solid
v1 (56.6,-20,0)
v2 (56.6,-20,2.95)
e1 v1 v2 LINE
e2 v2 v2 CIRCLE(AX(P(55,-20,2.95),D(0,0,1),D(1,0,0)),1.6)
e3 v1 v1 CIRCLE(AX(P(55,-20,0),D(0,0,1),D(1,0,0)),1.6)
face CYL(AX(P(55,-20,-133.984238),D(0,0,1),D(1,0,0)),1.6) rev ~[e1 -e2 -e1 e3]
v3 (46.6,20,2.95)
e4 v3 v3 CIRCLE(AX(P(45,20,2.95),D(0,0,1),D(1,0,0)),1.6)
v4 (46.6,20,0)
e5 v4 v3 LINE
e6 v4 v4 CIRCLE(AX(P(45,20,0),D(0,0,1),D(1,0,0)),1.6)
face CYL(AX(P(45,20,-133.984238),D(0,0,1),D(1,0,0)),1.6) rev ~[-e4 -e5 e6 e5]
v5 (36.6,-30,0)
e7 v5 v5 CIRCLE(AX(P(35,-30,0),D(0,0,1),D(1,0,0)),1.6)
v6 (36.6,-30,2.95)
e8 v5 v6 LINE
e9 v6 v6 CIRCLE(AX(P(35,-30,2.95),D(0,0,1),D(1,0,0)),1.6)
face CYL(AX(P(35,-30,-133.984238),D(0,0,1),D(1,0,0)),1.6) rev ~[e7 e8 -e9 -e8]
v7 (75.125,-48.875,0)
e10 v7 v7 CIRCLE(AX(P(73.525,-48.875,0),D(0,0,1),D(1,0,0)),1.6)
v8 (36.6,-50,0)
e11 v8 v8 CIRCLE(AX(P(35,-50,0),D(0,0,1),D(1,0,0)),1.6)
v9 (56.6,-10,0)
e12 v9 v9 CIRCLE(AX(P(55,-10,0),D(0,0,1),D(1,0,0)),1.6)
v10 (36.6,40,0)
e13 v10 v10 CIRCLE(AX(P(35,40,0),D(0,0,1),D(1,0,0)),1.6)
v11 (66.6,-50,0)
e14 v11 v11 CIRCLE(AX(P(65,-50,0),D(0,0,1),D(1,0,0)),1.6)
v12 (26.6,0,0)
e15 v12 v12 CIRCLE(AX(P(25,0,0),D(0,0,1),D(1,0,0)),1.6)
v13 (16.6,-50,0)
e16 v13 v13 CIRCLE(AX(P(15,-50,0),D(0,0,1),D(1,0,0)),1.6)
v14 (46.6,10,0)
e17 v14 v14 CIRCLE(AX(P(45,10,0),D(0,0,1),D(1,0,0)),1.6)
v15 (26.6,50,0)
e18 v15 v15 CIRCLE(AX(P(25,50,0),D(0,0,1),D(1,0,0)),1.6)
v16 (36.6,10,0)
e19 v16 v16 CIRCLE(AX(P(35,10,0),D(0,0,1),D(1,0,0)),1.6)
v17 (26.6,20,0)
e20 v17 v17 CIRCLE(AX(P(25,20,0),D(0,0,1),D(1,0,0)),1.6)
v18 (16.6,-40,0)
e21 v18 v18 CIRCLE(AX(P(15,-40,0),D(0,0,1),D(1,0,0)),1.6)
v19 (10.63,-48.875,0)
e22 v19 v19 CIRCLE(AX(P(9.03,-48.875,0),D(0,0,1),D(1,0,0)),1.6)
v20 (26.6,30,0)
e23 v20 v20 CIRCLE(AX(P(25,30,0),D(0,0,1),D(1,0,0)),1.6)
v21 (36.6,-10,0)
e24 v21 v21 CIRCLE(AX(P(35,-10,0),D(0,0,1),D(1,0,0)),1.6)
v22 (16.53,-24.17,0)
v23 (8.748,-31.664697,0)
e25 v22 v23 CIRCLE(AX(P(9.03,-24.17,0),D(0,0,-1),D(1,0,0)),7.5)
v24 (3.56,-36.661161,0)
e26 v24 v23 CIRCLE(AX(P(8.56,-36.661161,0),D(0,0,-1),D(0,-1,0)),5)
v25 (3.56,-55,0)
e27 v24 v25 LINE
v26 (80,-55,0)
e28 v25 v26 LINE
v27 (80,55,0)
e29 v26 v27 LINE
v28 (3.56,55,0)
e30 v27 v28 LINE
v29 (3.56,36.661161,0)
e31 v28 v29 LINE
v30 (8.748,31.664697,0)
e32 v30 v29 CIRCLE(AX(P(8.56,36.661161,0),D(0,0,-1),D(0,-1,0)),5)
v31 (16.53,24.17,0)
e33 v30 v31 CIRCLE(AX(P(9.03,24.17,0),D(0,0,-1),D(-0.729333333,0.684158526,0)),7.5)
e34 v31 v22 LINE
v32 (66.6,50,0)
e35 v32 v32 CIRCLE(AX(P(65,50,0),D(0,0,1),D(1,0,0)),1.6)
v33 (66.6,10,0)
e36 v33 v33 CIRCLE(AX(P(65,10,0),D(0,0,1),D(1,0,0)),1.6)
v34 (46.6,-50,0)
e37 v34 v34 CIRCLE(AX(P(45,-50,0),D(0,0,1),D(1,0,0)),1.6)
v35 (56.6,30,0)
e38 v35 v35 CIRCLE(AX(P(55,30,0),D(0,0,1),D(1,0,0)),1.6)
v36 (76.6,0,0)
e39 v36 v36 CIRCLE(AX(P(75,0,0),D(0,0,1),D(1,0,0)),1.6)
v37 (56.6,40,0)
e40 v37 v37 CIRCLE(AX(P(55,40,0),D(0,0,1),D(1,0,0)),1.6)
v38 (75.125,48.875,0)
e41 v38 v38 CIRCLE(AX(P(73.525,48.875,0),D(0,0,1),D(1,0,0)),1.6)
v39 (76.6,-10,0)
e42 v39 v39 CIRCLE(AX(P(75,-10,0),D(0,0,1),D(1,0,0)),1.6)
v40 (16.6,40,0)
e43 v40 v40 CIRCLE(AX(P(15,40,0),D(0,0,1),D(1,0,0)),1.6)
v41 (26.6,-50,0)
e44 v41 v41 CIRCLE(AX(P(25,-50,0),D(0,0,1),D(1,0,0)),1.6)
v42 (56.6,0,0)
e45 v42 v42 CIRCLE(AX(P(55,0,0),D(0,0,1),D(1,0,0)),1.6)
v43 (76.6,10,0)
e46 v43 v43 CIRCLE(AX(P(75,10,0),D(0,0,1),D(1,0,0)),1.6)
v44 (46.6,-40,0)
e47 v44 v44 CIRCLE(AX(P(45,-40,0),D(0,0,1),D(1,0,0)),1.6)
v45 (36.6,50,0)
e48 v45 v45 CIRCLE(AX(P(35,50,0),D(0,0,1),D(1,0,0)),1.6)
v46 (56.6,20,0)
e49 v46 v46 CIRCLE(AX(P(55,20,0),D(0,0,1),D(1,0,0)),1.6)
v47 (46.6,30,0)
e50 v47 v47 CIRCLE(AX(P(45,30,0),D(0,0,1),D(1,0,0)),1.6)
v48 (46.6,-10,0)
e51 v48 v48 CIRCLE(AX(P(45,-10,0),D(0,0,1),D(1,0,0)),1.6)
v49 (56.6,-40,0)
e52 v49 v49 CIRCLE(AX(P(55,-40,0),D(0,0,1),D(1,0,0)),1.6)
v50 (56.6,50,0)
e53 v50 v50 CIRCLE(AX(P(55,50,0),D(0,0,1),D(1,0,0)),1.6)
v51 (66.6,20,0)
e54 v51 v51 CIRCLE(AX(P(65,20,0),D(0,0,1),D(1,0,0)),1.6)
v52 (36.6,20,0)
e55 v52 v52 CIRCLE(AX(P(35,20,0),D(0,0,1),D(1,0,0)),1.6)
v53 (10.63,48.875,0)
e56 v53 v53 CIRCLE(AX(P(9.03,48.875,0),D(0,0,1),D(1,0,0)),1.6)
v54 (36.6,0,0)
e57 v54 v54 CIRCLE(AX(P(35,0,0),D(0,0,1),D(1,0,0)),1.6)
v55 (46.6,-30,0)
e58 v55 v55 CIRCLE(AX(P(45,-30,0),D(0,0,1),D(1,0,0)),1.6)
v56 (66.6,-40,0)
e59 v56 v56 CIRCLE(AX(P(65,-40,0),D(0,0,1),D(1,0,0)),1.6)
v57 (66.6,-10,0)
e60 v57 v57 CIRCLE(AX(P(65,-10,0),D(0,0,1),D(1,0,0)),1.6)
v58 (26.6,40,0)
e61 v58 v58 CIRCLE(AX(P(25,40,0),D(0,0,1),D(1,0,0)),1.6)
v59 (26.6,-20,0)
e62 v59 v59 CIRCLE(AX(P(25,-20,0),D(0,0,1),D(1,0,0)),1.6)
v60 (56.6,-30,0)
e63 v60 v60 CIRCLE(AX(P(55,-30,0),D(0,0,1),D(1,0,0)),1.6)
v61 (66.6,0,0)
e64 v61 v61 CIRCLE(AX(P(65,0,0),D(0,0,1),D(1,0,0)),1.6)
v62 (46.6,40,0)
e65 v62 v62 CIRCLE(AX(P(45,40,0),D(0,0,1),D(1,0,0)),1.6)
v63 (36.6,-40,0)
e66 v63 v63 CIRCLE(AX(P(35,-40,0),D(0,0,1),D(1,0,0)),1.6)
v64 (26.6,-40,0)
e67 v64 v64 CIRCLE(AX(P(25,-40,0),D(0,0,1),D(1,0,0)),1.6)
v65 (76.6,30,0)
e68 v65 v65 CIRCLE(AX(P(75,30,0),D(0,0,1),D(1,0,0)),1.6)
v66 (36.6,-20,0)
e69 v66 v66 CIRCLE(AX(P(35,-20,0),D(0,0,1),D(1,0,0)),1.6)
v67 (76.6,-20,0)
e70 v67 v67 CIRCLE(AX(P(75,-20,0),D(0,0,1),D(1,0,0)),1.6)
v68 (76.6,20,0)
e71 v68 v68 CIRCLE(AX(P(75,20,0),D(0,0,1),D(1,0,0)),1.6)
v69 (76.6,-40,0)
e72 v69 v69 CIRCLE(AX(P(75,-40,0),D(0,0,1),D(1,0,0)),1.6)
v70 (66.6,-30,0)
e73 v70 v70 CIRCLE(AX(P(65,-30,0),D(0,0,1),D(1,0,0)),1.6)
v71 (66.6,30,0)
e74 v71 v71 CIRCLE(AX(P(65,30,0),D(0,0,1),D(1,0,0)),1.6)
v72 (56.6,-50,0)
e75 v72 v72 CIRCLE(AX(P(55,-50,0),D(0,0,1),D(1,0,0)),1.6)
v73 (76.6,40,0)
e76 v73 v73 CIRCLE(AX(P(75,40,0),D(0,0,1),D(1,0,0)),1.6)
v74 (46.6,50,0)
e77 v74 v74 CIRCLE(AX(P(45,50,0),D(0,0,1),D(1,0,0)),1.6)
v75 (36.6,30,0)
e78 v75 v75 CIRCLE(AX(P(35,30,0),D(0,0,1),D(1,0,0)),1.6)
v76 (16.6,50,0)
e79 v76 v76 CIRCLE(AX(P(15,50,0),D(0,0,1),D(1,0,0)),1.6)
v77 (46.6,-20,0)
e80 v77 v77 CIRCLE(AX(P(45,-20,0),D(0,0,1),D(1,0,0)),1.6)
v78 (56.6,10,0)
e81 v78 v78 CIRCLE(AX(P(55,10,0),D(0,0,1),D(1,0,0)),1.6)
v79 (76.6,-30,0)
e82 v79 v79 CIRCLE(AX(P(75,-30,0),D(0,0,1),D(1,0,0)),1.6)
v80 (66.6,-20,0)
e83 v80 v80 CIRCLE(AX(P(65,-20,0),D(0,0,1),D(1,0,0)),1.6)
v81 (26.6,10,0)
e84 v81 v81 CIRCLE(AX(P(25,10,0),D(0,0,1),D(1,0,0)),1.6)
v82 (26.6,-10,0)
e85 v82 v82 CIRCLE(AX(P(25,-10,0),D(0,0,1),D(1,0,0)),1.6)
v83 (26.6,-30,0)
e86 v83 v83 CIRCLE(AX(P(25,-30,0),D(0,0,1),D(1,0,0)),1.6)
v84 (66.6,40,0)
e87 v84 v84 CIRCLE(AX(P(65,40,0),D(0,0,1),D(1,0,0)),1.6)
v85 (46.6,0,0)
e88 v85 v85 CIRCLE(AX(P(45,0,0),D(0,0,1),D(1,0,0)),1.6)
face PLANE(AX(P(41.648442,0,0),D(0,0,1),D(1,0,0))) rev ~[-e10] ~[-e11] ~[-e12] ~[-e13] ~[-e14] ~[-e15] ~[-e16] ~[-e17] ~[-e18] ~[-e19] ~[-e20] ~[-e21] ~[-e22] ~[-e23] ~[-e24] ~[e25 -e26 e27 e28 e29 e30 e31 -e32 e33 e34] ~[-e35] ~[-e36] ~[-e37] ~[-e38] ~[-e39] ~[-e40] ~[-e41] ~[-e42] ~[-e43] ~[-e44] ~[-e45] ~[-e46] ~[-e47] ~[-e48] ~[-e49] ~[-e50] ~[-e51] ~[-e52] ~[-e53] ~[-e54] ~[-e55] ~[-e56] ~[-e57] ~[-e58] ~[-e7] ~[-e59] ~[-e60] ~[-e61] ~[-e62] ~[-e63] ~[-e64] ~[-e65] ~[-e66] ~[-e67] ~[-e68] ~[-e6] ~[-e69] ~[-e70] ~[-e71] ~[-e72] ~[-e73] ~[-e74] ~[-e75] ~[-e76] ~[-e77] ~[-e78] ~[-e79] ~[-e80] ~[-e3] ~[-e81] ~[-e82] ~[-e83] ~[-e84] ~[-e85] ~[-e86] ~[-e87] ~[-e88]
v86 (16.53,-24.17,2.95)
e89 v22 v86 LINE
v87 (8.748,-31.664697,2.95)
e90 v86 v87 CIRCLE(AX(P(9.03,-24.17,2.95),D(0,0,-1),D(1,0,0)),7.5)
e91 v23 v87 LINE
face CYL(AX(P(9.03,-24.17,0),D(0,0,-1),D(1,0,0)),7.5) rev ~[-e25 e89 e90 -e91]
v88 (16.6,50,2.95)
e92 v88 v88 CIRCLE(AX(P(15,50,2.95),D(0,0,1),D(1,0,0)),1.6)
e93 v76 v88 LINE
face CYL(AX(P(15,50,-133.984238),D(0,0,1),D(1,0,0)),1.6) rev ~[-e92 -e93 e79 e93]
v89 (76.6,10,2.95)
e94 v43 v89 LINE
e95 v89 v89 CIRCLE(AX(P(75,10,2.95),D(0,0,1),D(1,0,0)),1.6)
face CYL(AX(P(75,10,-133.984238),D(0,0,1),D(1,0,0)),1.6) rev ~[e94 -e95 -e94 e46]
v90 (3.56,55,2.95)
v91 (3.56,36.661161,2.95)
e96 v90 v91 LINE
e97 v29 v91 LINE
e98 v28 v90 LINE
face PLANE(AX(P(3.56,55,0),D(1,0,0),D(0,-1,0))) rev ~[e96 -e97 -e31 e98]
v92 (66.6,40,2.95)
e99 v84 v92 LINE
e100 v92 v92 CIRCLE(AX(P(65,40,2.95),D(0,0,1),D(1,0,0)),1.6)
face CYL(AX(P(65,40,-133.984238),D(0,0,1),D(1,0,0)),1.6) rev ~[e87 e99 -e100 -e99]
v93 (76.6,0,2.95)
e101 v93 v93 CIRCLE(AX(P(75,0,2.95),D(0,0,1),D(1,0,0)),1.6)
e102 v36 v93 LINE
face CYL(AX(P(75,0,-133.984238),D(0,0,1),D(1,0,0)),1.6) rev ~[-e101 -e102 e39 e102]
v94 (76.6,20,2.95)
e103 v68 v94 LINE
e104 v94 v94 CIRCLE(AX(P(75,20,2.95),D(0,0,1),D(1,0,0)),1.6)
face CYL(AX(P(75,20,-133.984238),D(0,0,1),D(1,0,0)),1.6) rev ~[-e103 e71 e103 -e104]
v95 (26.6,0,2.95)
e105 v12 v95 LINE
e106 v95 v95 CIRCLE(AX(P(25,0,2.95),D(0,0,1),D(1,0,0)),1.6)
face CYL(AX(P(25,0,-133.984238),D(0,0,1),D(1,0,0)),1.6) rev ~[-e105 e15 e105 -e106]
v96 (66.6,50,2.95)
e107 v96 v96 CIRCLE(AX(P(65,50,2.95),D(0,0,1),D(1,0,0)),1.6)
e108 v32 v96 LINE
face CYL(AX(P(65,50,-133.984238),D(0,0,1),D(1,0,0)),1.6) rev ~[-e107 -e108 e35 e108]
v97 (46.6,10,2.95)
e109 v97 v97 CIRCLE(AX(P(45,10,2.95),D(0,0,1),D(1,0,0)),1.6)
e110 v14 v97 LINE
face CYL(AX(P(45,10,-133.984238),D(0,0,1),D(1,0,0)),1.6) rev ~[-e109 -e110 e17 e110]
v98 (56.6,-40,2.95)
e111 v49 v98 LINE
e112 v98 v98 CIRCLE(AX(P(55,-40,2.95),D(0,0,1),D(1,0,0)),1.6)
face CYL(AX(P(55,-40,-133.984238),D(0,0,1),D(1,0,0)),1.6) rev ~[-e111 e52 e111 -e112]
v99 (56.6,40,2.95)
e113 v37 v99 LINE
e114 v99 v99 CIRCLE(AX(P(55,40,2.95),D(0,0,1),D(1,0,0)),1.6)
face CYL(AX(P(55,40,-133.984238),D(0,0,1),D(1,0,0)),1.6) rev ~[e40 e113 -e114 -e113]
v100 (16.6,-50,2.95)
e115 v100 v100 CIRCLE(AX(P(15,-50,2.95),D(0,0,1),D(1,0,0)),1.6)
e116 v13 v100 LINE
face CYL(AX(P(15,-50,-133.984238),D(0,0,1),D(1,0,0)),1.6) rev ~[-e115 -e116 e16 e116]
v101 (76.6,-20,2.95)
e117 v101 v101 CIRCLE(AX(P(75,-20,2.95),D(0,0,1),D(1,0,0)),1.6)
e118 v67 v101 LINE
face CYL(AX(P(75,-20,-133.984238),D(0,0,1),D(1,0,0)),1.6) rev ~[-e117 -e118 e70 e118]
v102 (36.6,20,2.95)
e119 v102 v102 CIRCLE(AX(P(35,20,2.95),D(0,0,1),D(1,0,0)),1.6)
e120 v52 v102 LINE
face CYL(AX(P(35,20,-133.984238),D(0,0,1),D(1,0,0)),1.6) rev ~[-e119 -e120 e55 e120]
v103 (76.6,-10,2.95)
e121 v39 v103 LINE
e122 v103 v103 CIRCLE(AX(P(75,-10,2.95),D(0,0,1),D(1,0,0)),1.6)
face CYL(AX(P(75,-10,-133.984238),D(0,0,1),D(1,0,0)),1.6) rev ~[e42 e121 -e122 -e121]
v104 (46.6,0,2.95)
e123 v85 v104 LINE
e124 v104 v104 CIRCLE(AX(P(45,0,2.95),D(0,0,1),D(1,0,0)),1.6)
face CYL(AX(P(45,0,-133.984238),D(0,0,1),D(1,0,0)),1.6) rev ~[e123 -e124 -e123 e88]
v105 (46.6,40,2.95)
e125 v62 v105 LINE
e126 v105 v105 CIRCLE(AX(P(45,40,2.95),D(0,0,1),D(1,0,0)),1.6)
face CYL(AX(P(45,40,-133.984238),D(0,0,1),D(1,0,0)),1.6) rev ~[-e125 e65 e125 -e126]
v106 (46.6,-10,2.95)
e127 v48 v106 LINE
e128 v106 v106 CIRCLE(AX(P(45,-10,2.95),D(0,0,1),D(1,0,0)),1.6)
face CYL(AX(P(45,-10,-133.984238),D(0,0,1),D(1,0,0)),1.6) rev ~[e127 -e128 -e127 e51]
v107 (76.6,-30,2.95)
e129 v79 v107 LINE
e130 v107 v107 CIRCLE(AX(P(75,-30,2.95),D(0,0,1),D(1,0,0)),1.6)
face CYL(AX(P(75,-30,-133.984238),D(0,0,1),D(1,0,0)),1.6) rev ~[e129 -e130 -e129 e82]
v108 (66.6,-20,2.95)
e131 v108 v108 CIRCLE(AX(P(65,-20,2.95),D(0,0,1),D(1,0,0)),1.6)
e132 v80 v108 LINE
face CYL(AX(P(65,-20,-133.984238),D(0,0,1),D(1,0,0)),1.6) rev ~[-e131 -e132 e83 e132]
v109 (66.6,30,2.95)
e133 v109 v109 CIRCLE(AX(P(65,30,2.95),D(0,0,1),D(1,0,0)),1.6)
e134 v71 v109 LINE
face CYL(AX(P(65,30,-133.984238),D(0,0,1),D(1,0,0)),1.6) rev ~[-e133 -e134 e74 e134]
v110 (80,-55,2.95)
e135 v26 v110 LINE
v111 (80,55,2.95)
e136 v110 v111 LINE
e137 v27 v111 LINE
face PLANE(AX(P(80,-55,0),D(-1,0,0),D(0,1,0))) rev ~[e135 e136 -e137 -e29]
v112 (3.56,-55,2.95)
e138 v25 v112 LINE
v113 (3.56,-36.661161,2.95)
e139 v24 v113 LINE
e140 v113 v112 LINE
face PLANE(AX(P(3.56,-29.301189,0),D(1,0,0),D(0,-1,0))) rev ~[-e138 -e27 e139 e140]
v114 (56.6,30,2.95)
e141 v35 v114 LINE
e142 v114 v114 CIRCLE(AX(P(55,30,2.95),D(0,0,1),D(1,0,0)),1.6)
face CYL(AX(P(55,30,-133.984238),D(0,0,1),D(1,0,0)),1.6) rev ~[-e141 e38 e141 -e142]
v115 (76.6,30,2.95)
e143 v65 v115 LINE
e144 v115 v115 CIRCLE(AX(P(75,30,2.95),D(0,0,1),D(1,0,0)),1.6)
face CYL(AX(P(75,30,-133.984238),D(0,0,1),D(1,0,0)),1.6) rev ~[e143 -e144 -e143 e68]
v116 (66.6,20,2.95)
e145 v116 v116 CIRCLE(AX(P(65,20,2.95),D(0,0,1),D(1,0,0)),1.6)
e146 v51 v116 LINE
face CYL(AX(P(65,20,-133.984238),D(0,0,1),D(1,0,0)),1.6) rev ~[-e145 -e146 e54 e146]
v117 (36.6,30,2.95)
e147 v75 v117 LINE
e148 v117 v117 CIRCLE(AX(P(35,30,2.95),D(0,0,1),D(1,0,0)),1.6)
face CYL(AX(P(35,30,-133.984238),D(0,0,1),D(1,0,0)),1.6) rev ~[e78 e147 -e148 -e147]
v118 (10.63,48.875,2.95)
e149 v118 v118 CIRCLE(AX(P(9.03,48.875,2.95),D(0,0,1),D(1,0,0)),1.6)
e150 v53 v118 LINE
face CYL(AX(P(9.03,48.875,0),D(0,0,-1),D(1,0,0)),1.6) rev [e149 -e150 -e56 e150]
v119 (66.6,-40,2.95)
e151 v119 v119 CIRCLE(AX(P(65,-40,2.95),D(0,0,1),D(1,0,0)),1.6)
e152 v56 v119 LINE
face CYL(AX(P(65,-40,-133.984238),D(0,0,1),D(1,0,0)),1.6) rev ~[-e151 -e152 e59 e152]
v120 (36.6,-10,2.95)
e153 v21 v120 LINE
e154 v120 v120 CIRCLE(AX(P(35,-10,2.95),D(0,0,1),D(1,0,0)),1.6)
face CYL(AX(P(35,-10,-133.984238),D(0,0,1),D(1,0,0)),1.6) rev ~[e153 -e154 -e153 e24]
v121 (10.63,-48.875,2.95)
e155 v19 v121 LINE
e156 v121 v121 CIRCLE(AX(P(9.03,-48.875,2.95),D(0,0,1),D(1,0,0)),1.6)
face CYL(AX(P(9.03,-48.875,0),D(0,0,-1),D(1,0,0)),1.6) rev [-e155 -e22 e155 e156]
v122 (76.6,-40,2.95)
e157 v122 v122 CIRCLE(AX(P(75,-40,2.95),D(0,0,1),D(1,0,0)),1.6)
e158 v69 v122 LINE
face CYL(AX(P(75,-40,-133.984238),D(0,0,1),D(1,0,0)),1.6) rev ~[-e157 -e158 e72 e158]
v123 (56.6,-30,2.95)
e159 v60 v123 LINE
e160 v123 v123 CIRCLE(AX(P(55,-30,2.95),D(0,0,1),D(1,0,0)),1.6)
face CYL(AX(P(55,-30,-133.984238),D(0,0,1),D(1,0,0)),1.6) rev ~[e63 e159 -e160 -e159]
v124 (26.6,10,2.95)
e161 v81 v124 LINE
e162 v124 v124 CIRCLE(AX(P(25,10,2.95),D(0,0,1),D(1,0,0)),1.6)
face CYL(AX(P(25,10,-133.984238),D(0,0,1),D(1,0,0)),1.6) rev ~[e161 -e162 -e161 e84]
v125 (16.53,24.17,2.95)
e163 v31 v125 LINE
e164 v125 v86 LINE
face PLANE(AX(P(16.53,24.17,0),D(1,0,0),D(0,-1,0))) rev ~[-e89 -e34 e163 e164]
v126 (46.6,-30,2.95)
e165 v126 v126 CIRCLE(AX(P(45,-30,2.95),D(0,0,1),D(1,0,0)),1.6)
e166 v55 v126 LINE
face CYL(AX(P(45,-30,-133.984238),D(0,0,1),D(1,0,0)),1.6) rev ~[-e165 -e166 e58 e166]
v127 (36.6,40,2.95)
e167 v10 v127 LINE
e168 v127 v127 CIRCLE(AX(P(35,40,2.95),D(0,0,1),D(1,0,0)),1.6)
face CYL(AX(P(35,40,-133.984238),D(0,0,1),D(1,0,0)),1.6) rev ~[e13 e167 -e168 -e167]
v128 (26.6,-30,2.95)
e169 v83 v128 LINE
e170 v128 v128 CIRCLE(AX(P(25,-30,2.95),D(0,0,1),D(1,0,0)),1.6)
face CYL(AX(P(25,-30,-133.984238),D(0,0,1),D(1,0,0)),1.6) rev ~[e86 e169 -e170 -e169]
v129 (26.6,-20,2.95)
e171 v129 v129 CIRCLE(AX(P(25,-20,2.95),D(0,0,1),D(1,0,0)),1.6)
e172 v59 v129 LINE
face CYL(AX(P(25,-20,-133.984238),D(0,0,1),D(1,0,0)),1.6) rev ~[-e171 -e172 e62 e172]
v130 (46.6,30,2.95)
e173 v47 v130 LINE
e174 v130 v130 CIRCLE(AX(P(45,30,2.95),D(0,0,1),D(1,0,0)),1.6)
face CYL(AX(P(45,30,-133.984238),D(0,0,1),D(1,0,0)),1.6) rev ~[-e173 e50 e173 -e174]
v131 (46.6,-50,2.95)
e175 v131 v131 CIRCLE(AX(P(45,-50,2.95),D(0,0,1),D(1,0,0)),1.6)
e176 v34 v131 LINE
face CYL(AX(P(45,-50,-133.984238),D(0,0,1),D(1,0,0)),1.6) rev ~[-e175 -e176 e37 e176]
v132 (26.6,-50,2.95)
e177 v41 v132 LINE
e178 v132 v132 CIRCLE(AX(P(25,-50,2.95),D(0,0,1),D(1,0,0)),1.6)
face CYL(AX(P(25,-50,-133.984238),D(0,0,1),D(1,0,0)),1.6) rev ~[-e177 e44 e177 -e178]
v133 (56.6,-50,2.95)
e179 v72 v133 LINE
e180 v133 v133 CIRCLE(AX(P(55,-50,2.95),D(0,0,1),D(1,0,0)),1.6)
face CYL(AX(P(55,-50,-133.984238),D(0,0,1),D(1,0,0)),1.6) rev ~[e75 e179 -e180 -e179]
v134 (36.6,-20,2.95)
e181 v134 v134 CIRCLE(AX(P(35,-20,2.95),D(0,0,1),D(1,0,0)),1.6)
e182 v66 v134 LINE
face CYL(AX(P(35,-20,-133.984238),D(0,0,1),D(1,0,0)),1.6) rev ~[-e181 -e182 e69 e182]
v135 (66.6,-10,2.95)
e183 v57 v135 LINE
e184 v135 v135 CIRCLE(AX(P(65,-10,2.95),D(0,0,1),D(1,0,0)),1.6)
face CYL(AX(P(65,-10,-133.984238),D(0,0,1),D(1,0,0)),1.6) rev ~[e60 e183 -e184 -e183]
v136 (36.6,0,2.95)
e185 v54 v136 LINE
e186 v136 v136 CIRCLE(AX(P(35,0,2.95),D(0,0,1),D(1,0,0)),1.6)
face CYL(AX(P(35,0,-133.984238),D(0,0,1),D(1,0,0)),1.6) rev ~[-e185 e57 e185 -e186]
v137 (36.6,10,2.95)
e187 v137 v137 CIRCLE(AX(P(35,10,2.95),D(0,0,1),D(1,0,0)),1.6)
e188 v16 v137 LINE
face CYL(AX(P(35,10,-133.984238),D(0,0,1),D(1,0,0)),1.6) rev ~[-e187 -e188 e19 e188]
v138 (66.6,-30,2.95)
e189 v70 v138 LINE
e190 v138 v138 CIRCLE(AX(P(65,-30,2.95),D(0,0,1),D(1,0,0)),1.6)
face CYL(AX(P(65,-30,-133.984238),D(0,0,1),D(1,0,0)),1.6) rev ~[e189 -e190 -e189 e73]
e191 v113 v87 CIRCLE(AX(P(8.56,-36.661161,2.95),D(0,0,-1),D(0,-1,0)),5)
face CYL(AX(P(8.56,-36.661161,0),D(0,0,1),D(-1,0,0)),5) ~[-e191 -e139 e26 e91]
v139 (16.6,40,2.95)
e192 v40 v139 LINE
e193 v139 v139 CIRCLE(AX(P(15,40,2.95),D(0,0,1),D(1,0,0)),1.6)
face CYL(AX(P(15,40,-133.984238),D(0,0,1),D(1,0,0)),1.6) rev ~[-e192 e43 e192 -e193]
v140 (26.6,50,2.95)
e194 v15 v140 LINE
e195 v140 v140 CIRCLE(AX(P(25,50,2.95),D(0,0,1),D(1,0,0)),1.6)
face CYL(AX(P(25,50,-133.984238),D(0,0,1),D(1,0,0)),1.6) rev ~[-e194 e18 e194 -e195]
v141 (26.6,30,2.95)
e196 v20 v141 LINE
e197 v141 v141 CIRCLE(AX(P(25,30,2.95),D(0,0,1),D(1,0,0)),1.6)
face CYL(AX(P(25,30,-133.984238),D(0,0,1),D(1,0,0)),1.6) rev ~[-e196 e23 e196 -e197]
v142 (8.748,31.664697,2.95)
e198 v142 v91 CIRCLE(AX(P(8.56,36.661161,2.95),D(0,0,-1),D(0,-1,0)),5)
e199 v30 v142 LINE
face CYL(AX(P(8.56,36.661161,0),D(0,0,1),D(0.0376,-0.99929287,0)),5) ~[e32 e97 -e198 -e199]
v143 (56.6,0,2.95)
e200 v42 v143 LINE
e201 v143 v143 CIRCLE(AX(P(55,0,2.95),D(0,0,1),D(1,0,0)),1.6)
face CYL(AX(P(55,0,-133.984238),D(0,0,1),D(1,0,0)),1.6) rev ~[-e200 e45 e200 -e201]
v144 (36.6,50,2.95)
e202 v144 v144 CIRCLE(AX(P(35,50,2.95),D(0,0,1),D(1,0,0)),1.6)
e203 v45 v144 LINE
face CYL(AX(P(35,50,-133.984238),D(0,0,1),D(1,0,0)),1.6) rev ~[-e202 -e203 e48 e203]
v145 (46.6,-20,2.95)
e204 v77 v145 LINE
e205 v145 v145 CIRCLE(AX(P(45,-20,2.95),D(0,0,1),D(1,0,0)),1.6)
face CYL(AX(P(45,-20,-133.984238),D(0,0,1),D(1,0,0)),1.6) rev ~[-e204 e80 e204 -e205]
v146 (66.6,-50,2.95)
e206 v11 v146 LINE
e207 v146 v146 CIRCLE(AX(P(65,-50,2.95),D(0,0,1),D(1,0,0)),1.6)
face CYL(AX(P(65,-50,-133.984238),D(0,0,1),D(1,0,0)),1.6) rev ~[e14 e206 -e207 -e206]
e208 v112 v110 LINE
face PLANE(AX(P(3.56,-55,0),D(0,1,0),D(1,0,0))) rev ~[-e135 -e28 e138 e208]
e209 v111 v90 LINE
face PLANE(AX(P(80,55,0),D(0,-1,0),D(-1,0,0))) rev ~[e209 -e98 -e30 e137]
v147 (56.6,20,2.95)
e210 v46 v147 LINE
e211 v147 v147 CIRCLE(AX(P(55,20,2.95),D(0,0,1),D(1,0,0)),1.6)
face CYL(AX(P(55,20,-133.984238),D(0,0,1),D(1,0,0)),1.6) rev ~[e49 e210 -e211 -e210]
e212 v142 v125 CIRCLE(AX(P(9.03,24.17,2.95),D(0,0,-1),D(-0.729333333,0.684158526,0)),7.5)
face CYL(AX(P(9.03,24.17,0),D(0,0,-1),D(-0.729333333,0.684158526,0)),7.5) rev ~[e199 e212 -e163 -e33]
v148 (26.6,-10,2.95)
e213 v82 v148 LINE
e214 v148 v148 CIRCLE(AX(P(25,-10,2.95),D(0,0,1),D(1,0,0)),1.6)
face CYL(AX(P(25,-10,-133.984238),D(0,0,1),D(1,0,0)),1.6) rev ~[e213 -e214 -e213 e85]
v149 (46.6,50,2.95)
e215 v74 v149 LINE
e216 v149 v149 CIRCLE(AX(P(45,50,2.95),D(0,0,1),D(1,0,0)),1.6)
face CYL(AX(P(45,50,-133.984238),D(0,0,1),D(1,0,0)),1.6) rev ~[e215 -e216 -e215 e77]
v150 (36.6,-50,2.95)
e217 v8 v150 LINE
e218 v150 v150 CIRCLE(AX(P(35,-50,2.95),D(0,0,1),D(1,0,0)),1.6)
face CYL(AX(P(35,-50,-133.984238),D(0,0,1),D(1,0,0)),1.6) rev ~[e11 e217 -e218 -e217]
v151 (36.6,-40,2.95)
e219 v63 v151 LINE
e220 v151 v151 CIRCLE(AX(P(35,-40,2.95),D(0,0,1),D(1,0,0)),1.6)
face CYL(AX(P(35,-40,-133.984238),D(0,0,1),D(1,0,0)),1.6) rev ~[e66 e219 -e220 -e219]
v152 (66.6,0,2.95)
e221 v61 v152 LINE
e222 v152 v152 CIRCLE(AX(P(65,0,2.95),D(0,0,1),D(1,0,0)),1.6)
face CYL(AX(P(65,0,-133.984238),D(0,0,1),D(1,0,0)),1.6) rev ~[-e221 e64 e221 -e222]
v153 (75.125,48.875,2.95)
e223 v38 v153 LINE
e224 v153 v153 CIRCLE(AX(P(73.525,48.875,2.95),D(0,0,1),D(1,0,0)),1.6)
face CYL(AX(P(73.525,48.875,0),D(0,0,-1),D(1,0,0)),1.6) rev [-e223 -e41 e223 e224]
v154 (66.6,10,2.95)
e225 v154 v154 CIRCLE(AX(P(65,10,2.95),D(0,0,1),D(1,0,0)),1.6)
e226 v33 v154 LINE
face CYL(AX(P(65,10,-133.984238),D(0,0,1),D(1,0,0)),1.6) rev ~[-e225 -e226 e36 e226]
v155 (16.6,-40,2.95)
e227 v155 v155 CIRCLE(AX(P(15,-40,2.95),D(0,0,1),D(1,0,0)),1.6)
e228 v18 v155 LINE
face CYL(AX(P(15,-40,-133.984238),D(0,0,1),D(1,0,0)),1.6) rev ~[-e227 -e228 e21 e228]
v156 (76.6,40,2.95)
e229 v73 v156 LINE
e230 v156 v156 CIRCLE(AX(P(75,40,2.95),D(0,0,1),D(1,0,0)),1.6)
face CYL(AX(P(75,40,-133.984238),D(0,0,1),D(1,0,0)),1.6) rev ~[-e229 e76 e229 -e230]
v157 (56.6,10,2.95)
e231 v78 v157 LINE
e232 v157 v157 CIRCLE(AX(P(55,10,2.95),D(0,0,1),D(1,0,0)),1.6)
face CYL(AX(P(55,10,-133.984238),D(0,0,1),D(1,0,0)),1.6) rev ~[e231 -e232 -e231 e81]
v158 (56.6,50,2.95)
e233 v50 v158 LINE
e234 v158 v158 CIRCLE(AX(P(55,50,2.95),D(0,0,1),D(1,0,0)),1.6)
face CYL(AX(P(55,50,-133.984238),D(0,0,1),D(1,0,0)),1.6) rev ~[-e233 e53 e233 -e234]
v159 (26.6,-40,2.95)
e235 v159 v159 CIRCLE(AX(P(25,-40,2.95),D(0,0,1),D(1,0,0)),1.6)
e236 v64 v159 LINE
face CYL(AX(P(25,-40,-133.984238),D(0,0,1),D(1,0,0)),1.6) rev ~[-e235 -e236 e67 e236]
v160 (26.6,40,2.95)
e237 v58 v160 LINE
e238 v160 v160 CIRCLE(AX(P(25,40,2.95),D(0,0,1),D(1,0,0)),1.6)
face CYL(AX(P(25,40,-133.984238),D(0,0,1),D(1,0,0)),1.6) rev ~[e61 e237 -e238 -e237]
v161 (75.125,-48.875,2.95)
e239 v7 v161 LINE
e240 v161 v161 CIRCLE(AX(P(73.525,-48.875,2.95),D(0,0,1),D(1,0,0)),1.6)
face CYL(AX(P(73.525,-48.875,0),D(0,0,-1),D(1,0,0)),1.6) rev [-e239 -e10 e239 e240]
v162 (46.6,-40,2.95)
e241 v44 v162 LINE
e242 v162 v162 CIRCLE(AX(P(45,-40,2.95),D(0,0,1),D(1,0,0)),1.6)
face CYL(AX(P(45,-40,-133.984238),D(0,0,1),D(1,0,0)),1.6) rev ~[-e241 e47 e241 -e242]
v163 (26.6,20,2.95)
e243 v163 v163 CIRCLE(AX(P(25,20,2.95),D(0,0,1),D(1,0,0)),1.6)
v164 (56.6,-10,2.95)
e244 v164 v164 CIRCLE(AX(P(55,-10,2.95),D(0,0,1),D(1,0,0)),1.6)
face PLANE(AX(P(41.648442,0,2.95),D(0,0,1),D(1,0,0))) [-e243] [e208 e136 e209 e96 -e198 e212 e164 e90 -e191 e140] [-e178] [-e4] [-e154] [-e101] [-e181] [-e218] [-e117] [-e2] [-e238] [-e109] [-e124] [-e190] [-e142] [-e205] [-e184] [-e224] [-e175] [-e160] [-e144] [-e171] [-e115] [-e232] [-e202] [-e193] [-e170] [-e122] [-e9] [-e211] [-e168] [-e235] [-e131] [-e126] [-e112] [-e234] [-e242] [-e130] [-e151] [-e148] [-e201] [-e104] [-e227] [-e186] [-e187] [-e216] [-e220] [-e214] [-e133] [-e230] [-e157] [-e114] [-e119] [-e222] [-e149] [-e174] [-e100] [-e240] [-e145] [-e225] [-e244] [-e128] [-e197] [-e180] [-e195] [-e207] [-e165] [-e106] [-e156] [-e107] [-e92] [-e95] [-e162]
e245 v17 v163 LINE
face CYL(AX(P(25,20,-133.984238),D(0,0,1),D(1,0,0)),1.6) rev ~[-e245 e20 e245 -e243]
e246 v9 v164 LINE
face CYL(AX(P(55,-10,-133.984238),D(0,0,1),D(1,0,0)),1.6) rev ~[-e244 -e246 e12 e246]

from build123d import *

# Parameters (mm, degrees)
SKETCH1_R            = 1.6
BOSS_EXTRUDE1_DEPTH  = 2.95
FILLET1_R            = 5
M3_CLEARANCE_HOLE3_D = 3.2
LPATTERN3_COUNT      = 7
LPATTERN3_PITCH      = 10
LPATTERN3_COUNT_DIR2 = 11
LPATTERN3_PITCH_DIR2 = 10


with BuildPart() as part:
    # Sketch1 → Boss-Extrude1 (new body)
    with BuildSketch(Plane.XY):
        with BuildLine():
            Line((3.56, -29.301188946), (3.56, -55))
            Line((3.56, -55), (80, -55))
            Line((80, -55), (80, 55))
            Line((80, 55), (3.56, 55))
            Line((3.56, 55), (3.56, 29.301188946))
            ThreePointArc((3.56, 29.301188946), (11.789075932, 31.144059076), (16.53, 24.17))
            Line((16.53, 24.17), (16.53, -24.17))
            ThreePointArc((16.53, -24.17), (11.789075932, -31.144059076), (3.56, -29.301188946))
        make_face()
        with Locations((9.03, -48.875)):
            Circle(SKETCH1_R, mode=Mode.SUBTRACT)
        with Locations((73.525, -48.875)):
            Circle(SKETCH1_R, mode=Mode.SUBTRACT)
        with Locations((9.03, 48.875)):
            Circle(SKETCH1_R, mode=Mode.SUBTRACT)
        with Locations((73.525, 48.875)):
            Circle(SKETCH1_R, mode=Mode.SUBTRACT)
    extrude(amount=BOSS_EXTRUDE1_DEPTH)

    # Fillet1
    fillet1_edges = [part.edges().sort_by_distance(p)[0] for p in [
        (3.56, 29.301188946, 1.475),
        (3.56, -29.301188946, 1.475),
    ]]
    fillet(fillet1_edges, radius=FILLET1_R)

    # M3 Clearance Hole3 (through all)
    with Locations(Plane(origin=(0, 0, 0), x_dir=(-1, 0, 0), z_dir=(0, 0, -1))):
        with Locations((-15, -50)):
            m3_clearance_hole3 = Hole(M3_CLEARANCE_HOLE3_D / 2)

    # LPattern3: M3 Clearance Hole3 7 × 11, 9 skipped
    with Locations(*[(i * LPATTERN3_PITCH, j * LPATTERN3_PITCH_DIR2, 0) for i in range(LPATTERN3_COUNT) for j in range(LPATTERN3_COUNT_DIR2) if (i, j) not in ((0, 0), (0, 2), (0, 3), (0, 4), (0, 5), (0, 6), (0, 7), (0, 8), (6, 0), (6, 10))]):
        add(m3_clearance_hole3, mode=Mode.SUBTRACT)


solid = part.part
